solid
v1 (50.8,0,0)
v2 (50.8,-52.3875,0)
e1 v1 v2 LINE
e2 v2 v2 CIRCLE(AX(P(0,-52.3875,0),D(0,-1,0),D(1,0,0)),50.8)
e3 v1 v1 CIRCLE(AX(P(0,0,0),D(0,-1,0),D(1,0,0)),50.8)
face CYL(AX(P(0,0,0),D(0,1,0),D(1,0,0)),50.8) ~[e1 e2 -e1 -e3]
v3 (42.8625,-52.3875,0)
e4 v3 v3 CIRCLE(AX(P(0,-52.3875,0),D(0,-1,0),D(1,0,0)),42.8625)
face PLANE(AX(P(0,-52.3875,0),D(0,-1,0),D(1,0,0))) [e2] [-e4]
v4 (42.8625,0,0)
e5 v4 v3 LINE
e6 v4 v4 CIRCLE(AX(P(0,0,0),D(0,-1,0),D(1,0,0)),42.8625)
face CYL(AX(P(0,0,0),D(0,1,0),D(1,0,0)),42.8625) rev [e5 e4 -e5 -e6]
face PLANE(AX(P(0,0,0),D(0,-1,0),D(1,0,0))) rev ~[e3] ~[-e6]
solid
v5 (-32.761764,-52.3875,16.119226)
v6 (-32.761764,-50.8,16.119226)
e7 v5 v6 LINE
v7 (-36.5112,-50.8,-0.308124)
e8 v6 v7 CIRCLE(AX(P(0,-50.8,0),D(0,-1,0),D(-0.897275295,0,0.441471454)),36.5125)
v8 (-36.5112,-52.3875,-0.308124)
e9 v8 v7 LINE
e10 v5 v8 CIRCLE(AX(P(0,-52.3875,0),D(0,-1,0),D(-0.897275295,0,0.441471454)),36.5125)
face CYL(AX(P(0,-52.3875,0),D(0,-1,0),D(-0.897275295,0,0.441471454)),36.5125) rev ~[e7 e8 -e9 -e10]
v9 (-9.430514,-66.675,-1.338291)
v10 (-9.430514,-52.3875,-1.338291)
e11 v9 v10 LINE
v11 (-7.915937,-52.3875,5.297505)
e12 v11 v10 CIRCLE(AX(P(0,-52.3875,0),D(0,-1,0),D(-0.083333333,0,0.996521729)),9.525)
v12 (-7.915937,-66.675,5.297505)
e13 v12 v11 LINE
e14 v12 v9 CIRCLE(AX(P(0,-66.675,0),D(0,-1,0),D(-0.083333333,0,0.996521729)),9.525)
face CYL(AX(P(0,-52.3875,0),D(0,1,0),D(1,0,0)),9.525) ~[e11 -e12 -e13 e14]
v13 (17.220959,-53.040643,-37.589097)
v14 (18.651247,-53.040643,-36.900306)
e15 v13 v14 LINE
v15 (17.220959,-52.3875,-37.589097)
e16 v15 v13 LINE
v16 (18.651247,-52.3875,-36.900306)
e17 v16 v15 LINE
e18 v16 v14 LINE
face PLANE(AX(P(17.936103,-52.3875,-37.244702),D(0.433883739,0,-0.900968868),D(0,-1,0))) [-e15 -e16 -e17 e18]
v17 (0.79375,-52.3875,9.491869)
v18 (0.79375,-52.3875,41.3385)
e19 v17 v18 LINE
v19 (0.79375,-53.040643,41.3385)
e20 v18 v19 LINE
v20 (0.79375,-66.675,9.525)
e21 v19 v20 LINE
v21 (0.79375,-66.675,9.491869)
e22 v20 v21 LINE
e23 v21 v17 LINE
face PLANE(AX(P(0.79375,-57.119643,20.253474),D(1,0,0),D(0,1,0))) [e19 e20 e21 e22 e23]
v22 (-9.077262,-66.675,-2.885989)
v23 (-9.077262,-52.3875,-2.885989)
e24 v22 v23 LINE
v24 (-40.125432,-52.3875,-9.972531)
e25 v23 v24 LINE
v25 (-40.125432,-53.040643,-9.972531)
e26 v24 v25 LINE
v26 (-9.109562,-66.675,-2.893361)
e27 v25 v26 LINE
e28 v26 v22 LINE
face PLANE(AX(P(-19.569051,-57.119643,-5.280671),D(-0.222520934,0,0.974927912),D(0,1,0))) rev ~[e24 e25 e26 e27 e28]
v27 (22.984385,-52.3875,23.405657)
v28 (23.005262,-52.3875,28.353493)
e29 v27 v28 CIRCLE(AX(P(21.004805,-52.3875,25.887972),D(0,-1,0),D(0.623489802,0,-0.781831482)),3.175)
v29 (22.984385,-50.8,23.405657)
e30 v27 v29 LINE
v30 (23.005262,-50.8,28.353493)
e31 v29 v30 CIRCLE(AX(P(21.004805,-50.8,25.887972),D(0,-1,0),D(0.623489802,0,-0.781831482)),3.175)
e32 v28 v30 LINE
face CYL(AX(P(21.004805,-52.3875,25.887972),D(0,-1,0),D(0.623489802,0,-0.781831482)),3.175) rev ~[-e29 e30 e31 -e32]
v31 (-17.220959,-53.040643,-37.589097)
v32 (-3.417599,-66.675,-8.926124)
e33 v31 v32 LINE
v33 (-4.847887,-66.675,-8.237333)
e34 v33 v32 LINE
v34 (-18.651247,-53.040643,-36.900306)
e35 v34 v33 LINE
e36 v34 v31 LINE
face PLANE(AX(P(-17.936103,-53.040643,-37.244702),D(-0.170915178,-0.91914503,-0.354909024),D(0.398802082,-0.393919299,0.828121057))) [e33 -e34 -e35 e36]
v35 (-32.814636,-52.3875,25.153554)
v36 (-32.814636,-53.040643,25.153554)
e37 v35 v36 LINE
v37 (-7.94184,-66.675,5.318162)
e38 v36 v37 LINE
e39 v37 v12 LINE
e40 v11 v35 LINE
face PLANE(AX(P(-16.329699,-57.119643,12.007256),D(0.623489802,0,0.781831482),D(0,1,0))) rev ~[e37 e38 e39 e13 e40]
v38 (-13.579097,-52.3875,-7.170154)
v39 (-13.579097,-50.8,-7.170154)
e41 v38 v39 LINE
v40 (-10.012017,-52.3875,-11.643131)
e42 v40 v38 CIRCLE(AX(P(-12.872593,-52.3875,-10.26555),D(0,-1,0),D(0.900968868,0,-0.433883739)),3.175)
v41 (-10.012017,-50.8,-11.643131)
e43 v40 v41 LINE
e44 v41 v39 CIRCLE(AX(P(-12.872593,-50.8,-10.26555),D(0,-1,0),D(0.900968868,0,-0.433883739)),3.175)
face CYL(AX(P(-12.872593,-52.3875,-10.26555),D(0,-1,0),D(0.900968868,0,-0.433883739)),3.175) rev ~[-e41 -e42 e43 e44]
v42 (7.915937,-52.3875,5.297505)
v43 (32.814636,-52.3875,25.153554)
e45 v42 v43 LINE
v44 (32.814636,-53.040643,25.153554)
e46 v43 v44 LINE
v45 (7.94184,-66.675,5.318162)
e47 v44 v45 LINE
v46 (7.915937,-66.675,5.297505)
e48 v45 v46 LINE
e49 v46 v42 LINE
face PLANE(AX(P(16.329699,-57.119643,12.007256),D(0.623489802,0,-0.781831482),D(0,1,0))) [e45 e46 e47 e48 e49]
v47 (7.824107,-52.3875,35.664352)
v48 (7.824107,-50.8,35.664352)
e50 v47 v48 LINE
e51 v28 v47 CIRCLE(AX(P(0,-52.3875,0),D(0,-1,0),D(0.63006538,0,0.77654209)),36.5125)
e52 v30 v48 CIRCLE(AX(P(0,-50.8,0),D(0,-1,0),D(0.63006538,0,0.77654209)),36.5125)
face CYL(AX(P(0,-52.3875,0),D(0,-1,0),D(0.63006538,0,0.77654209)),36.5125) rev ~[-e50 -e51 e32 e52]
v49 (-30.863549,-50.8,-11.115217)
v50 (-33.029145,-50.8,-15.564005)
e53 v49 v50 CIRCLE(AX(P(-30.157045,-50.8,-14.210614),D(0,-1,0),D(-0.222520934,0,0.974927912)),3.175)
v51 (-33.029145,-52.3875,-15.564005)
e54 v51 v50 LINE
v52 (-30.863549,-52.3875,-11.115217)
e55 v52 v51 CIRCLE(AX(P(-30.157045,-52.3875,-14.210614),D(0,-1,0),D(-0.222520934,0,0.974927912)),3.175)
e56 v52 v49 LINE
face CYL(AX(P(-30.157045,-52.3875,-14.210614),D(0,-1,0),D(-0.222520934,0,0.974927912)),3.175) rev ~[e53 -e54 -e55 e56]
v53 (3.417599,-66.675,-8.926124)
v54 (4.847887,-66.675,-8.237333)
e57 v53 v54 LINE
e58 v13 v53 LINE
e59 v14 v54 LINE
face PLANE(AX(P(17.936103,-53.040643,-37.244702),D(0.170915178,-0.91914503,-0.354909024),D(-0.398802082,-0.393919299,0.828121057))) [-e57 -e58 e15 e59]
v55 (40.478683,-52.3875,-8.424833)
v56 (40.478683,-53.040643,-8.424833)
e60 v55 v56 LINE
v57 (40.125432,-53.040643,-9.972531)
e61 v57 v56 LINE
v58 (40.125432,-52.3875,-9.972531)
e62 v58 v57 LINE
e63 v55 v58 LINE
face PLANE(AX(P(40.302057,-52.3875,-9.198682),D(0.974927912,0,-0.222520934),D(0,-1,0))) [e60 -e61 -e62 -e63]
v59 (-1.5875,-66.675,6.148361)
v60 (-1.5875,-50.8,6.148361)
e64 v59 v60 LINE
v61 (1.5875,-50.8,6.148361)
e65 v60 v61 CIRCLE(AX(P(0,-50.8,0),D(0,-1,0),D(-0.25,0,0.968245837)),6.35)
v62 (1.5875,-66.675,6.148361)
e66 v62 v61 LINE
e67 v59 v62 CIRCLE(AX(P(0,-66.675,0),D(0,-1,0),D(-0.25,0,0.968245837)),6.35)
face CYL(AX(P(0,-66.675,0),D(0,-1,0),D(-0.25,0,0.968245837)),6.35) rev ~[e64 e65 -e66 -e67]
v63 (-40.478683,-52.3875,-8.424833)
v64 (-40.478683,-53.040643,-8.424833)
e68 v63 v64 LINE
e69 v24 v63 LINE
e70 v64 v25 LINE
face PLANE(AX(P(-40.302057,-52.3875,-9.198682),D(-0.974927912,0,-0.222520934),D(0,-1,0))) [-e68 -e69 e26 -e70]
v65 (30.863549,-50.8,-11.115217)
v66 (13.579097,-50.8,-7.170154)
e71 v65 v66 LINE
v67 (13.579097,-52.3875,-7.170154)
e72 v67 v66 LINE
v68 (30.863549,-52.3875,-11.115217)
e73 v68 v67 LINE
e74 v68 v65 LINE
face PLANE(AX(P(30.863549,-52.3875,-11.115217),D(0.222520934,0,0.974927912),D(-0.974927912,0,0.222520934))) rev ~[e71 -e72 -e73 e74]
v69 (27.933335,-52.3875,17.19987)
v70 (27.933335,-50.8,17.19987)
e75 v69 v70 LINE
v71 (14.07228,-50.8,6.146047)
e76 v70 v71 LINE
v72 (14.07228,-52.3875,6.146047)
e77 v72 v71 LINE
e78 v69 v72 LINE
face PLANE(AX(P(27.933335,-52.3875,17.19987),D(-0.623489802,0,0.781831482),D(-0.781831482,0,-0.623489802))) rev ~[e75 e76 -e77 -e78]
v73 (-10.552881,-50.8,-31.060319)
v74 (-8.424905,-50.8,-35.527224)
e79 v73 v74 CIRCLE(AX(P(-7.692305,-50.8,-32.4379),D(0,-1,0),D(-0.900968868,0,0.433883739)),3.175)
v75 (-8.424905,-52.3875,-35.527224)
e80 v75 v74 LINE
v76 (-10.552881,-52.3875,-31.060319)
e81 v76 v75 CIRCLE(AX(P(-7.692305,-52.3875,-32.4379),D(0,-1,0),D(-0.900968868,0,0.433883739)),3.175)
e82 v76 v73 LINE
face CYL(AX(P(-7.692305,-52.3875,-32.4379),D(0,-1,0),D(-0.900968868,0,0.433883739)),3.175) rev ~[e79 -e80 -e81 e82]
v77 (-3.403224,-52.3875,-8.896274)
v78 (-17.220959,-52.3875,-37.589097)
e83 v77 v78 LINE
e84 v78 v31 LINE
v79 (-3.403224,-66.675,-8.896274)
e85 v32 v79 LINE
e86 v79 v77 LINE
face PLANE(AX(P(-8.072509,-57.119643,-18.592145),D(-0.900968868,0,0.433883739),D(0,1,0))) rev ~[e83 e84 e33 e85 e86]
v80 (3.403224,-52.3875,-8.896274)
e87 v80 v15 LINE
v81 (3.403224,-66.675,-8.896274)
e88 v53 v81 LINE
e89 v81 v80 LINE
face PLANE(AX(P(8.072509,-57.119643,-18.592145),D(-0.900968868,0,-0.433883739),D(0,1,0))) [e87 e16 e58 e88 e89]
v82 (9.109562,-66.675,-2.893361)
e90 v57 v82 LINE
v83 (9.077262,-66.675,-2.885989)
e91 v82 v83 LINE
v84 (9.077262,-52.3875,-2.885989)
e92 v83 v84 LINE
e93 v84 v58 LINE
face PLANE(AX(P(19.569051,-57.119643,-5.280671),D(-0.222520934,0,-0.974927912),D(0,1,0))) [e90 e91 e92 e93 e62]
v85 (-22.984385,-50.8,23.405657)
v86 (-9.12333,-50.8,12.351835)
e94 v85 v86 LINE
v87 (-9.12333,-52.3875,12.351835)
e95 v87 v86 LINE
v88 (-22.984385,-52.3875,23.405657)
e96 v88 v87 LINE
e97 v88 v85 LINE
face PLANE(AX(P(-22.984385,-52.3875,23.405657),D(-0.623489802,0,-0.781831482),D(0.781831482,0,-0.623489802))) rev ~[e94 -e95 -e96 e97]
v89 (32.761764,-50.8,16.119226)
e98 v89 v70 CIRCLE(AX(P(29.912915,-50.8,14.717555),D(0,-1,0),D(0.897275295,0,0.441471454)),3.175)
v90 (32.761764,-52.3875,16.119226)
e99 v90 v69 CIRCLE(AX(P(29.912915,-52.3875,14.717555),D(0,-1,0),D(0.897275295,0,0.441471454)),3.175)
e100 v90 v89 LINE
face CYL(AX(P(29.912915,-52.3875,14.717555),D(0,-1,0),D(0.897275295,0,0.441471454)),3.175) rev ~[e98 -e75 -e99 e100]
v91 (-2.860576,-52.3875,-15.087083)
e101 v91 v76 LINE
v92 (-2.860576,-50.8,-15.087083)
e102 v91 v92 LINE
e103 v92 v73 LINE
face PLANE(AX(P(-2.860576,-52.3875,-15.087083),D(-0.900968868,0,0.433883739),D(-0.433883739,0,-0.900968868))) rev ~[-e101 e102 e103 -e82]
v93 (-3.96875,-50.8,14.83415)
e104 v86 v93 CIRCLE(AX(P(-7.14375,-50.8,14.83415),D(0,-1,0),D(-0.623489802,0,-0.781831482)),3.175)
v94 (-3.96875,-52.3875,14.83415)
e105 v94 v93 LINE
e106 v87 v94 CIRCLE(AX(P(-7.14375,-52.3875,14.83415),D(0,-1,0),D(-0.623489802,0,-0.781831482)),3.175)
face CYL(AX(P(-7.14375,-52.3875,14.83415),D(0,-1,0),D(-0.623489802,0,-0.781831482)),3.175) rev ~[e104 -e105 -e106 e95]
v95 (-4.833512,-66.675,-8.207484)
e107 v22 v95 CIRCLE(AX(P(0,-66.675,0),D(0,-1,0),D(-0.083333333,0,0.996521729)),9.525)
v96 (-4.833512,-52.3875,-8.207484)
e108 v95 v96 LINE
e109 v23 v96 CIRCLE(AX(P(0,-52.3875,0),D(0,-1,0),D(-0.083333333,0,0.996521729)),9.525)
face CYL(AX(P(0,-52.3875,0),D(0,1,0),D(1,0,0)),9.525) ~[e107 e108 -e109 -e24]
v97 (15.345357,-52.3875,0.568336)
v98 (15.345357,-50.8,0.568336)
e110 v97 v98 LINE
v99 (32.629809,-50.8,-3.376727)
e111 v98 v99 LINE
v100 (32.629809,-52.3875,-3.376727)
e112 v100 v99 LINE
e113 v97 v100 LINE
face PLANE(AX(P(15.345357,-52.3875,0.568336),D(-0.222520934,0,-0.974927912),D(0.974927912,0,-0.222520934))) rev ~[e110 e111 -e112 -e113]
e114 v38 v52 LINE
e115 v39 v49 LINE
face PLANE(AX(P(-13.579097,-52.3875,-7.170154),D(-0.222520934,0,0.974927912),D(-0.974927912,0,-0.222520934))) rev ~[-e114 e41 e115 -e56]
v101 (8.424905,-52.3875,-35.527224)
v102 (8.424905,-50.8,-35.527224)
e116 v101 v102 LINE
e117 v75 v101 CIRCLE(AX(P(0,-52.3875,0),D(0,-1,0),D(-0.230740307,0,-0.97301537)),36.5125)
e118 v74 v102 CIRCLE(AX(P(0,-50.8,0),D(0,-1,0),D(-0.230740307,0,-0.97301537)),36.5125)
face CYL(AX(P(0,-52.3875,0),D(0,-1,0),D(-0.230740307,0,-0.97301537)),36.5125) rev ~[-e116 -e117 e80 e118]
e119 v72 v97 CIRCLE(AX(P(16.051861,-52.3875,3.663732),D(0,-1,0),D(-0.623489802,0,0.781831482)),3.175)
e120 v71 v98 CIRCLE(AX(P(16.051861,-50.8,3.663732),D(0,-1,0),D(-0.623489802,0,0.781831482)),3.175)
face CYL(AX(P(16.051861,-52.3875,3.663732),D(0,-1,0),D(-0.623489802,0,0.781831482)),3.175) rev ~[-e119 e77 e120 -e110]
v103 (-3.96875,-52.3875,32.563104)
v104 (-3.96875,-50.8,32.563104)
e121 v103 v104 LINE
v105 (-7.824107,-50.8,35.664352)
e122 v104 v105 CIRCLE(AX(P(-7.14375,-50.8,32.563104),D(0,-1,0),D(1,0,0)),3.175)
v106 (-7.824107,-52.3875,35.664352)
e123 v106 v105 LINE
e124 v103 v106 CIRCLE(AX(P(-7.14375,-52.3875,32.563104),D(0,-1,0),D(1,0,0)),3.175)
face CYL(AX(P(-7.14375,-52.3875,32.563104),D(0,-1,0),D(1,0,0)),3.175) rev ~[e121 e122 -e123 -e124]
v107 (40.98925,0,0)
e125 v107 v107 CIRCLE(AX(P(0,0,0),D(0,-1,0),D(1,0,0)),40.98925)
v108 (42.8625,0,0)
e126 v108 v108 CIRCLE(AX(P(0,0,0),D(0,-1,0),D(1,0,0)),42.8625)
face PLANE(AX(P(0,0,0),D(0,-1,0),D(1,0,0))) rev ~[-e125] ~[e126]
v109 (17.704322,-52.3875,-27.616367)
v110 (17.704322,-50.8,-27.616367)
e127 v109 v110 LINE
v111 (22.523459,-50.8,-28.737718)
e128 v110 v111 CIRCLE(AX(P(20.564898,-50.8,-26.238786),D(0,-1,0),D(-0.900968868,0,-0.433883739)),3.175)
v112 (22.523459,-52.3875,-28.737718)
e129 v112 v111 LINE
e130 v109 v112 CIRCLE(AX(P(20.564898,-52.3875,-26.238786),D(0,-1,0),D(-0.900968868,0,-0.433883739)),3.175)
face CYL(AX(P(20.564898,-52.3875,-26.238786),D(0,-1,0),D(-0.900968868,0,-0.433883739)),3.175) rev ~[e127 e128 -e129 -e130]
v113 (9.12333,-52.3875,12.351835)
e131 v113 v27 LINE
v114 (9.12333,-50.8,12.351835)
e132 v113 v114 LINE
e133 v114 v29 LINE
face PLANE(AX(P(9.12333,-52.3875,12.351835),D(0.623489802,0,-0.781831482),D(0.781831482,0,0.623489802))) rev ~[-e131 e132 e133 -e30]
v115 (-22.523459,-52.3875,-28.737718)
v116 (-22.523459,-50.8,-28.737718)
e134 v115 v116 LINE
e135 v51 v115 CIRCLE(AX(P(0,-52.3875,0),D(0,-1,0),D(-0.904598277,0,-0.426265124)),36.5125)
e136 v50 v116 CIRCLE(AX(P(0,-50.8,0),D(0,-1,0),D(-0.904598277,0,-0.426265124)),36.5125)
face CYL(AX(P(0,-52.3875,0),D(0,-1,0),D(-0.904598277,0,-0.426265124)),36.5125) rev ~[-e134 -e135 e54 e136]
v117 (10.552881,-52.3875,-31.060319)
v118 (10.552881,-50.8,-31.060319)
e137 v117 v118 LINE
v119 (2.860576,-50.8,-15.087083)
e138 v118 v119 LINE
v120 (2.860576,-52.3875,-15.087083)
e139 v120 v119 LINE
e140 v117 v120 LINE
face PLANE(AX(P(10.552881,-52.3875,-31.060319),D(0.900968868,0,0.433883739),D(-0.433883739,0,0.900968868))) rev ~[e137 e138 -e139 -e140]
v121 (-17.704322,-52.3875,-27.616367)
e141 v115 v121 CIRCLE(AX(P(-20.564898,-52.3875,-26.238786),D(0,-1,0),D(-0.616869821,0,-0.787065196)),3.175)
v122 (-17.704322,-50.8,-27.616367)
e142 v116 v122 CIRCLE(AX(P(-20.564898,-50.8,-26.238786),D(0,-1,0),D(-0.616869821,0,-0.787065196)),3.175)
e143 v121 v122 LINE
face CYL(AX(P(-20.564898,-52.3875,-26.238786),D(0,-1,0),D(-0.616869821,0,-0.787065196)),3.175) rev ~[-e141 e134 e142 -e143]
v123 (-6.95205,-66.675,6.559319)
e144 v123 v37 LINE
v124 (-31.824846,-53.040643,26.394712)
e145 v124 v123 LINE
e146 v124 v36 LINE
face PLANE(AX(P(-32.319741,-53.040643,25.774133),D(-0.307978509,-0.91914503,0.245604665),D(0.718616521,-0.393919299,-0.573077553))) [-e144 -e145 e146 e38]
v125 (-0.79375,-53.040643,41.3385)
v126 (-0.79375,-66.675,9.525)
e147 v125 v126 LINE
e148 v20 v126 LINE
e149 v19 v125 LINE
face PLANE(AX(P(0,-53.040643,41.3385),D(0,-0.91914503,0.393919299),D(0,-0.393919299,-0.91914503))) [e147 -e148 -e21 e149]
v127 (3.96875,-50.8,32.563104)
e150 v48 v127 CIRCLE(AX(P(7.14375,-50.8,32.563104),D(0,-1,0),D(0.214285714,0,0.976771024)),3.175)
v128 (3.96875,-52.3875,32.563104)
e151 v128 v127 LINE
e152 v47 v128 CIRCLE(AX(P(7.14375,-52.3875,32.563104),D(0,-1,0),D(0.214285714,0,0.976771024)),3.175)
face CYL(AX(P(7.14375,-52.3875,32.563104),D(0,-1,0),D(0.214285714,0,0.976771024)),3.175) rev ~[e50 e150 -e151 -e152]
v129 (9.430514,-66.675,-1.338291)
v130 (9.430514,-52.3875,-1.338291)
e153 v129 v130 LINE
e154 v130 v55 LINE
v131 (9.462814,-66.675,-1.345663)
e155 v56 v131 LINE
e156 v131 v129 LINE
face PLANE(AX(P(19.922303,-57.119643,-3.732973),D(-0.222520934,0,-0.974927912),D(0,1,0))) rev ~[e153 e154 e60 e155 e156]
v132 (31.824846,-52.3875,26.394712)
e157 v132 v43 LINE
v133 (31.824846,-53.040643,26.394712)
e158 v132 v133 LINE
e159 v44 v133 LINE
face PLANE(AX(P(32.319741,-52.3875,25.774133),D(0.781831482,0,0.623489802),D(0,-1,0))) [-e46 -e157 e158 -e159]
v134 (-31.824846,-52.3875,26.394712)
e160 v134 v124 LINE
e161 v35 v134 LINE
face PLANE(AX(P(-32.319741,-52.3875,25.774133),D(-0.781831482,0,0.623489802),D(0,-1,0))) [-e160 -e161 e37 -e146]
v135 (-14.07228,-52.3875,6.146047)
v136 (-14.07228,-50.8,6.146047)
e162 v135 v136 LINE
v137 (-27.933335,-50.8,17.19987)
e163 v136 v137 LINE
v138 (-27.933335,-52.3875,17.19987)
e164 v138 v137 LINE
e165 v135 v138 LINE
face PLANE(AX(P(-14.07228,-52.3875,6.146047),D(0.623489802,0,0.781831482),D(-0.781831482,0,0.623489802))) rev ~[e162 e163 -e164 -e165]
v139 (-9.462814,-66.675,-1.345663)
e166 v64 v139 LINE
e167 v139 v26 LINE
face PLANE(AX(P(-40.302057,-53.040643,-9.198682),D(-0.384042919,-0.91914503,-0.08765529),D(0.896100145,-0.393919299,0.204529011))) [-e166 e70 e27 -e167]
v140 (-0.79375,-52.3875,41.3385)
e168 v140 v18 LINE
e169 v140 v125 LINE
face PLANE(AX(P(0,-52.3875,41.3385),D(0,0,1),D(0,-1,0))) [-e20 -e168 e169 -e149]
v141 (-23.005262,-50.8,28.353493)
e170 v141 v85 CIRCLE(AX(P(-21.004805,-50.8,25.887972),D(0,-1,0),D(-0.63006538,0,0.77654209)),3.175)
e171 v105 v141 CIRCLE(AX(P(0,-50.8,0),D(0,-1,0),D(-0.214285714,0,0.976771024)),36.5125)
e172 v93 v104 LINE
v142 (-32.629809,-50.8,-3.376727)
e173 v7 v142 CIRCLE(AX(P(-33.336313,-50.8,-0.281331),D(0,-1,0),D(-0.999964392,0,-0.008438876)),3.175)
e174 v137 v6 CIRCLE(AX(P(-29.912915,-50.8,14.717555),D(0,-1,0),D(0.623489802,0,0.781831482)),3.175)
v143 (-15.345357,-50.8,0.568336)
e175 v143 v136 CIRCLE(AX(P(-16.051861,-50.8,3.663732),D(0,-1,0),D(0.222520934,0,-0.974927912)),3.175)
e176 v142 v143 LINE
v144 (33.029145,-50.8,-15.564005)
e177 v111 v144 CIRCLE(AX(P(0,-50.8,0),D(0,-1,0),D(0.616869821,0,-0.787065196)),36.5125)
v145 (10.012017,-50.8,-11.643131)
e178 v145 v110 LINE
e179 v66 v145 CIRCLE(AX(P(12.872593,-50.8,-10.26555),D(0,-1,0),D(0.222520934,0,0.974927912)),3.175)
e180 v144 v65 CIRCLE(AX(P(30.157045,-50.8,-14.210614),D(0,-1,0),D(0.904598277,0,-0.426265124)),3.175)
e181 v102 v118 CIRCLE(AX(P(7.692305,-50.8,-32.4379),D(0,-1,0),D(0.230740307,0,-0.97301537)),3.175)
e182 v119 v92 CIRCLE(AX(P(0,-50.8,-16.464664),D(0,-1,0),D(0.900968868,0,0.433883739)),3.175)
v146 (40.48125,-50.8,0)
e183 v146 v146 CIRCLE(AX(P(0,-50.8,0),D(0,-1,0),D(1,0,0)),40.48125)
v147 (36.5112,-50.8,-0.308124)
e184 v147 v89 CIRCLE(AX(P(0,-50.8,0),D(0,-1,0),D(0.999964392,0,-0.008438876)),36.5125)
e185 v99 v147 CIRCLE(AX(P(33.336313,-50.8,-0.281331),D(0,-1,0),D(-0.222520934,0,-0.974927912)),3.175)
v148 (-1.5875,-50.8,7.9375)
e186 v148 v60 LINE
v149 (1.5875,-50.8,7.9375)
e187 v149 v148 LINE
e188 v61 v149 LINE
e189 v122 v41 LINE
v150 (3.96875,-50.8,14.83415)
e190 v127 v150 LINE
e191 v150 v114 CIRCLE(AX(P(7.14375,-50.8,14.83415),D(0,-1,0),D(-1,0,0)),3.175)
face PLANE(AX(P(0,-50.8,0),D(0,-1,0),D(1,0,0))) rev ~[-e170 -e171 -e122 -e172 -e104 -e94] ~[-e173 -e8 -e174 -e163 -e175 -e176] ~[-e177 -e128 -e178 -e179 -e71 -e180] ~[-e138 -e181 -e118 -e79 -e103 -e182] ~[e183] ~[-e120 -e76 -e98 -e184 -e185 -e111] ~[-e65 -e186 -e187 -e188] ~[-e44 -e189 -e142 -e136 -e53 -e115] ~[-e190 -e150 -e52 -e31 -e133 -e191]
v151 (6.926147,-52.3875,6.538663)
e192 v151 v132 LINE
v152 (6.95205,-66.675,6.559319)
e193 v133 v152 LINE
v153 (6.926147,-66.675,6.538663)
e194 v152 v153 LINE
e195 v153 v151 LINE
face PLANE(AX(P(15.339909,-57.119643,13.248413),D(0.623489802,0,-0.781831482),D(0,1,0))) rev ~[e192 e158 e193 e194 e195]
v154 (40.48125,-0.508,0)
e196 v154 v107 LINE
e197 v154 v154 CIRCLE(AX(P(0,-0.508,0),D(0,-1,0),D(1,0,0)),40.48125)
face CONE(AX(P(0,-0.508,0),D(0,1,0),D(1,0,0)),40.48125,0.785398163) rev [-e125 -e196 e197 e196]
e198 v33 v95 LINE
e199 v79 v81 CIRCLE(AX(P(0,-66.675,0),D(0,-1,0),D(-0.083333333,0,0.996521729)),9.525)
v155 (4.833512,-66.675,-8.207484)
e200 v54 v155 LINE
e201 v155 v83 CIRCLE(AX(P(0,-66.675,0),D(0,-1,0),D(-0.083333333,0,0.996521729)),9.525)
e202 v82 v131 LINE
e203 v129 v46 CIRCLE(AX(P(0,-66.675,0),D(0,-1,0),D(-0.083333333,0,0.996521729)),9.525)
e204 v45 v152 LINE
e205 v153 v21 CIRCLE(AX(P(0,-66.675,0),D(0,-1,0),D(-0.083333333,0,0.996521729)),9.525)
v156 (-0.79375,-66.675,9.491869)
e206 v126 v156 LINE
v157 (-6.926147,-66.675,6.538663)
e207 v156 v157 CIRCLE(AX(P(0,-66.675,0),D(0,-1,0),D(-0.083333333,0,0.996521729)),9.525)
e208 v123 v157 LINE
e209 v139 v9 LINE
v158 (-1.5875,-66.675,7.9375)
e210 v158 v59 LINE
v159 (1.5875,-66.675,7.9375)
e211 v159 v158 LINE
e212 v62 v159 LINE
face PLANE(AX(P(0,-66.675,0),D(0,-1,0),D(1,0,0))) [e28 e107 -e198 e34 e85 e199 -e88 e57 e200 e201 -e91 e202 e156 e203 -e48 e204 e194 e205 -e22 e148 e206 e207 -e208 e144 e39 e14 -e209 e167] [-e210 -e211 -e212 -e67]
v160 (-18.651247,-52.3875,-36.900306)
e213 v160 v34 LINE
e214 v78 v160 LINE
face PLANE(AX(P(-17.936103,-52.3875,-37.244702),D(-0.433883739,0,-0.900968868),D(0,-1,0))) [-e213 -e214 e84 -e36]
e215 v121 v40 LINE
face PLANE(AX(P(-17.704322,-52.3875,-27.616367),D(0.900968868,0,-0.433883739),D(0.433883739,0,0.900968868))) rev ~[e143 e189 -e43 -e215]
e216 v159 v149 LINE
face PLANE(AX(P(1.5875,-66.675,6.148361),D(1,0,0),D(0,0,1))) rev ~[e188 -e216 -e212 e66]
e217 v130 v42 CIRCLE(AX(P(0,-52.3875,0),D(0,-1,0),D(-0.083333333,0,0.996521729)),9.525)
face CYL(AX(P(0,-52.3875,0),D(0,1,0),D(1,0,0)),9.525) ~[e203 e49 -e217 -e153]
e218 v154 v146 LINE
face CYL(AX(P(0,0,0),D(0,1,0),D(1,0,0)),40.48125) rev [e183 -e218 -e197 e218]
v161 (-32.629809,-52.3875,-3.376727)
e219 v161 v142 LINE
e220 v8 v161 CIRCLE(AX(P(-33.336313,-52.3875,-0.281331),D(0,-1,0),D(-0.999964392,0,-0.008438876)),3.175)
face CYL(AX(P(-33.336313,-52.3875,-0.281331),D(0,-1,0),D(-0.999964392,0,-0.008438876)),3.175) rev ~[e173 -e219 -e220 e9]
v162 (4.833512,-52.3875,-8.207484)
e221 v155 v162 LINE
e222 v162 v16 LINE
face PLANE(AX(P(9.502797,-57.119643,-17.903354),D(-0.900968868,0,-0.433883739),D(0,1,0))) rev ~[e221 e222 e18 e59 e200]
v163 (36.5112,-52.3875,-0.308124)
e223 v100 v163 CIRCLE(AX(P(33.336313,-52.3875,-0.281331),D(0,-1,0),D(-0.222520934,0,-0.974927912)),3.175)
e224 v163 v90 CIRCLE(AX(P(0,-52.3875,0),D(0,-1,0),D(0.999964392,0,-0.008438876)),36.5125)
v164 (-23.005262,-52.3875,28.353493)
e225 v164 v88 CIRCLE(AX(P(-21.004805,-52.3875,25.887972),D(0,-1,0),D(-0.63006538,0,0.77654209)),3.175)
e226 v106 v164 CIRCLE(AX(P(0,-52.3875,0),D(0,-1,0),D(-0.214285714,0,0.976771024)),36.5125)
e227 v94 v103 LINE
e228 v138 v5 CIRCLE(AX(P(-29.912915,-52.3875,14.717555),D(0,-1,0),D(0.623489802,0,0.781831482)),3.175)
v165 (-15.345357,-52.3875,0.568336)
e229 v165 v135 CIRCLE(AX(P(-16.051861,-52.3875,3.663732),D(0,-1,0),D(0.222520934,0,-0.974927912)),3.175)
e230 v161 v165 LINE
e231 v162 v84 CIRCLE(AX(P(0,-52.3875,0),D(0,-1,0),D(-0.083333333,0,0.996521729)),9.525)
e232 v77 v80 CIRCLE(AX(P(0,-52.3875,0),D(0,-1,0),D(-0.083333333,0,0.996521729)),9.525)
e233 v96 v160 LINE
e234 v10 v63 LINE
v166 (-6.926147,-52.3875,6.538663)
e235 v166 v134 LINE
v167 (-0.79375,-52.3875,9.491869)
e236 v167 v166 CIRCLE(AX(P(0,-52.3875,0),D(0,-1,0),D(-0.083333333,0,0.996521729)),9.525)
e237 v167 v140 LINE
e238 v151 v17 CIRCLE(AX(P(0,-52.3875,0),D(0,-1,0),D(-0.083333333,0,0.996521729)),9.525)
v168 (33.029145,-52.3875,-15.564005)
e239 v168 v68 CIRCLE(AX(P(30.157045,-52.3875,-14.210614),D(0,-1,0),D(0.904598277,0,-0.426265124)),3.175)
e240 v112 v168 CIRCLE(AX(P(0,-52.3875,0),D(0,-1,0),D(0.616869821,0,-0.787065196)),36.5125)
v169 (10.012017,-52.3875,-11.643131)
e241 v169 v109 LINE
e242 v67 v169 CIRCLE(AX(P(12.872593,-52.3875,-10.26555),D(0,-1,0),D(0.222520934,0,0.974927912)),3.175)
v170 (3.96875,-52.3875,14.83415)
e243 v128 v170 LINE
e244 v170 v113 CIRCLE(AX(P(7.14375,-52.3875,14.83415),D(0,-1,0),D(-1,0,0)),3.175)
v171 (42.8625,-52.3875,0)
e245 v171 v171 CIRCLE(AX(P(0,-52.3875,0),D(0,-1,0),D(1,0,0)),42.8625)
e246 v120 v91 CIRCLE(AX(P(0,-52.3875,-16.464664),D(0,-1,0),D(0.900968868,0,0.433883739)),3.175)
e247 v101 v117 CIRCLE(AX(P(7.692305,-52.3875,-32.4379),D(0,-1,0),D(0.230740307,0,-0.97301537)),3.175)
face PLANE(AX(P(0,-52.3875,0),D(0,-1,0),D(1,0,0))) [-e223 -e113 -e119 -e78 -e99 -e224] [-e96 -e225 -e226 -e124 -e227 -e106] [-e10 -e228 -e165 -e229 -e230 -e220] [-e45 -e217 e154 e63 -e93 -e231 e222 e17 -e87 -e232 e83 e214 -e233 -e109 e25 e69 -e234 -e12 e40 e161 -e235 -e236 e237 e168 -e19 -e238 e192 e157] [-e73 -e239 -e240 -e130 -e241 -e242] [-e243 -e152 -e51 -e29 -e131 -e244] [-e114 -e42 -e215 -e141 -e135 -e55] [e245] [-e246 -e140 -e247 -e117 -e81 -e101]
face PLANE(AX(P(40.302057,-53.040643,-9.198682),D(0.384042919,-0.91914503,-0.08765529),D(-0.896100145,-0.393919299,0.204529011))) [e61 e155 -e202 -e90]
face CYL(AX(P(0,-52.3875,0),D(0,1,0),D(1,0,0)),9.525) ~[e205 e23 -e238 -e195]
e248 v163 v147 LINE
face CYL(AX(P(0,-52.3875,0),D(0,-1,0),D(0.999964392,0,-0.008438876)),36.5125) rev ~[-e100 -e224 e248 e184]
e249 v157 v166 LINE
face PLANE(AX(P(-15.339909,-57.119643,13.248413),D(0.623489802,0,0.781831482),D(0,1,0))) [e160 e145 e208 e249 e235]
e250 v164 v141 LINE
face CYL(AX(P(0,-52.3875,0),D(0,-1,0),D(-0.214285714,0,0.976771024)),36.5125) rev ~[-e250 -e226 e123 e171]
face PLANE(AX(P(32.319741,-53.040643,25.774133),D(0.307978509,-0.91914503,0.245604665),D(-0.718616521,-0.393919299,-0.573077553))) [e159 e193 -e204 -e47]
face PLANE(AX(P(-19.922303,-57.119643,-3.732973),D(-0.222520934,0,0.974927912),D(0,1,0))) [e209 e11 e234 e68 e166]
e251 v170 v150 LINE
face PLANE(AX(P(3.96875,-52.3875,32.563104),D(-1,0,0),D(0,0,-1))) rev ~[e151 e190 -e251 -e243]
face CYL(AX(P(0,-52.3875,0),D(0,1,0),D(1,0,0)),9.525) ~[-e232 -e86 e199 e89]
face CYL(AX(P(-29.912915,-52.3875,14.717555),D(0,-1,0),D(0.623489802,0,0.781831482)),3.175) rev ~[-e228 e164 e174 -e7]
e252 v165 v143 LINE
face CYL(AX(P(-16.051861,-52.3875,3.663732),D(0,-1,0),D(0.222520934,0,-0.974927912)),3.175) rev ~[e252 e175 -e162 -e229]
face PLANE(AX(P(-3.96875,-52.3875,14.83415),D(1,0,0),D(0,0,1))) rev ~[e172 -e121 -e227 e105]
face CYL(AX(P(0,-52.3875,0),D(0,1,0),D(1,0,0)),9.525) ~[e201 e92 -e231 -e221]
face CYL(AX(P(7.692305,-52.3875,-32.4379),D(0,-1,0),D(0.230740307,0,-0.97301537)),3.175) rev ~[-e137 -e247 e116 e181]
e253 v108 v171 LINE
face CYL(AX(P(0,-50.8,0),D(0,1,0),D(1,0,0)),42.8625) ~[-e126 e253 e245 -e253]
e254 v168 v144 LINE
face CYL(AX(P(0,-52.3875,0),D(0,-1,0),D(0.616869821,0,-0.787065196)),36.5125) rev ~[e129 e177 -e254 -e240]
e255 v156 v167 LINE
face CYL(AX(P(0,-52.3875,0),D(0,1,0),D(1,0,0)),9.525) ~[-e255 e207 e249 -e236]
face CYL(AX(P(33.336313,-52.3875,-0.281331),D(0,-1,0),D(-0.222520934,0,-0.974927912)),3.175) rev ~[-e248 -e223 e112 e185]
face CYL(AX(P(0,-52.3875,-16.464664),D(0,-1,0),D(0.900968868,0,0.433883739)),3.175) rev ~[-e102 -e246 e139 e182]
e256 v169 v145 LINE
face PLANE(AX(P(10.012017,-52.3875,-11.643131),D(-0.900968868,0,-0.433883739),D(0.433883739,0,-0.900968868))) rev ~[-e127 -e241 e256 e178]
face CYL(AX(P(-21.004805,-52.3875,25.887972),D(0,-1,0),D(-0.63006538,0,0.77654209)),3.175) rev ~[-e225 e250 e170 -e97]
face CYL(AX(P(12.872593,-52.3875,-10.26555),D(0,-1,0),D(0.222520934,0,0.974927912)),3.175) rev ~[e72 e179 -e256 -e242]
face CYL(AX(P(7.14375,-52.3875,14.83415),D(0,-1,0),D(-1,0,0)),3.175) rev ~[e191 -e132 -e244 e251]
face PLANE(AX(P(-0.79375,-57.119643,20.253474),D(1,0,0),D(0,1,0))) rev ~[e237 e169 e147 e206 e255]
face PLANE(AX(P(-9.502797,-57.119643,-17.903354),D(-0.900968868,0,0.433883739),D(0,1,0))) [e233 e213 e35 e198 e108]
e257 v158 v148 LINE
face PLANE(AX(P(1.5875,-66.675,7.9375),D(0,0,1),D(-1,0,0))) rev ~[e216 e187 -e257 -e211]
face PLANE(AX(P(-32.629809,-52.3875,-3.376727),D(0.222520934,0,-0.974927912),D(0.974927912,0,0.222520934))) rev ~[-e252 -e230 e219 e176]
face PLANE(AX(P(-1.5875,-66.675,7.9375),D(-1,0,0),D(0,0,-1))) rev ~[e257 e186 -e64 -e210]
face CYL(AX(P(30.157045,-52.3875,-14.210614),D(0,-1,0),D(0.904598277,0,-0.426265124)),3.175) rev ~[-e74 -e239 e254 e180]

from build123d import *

# Parameters (mm, degrees)
F0_R      = 42.8625
F0_R_2    = 40.48125
F1_DEPTH  = 50.8
F2_R      = 42.8625
F3_DEPTH  = 1.5875
F4_R      = 9.525
F5_DEPTH  = 14.2875
F7_DEPTH  = 0.79375
F8_COUNT  = 7
F10_DEPTH = 66.676
F11_R     = 50.8
F11_R_2   = 42.8625
F12_DEPTH = 52.3875
F14_DEPTH = 1.5875
F15_SIZE  = 0.508


with BuildPart() as f1:
    # F0 (on Front) → F1 (new body)
    with BuildSketch(Plane.XZ):
        Circle(F0_R)
        Circle(F0_R_2, mode=Mode.SUBTRACT)
    extrude(amount=F1_DEPTH)

    # F2 (on face) → F3 (join)
    with BuildSketch(Plane.XZ.offset(50.8)):
        Circle(F2_R)
    extrude(amount=F3_DEPTH)

    # F4 (on face) → F5 (join)
    with BuildSketch(Plane.XZ.offset(52.3875)):
        Circle(F4_R)
    extrude(amount=F5_DEPTH)



with BuildPart() as f7:
    # F6 (on Right) → F7 (new body, symmetric)
    with BuildSketch(Plane.YZ):
        Polygon((-66.675, 4.5089146682), (-52.3875, 4.5089146682), (-52.3875, 41.3385), (-53.0406428571, 41.3385), (-66.675, 9.525), align=None)
    extrude(amount=F7_DEPTH, both=True)


with BuildPart() as f1_1:
    add(f1.part)

    add(f7.part)  # F8 merges F7
    # F8: F7 ×7 about axis
    f8_axis = Axis((0, -40.6418209895, 0), (0, 1, 0))
    for i in range(1, F8_COUNT):
        add(f7.part.rotate(f8_axis, i * 360 / F8_COUNT))

    # F9 (on face) → F10 (cut, through all)
    with BuildSketch(Plane.XZ.offset(66.675)):
        with BuildLine():
            Line((-1.5875, 7.9375), (-1.5875, 6.1483610621))
            ThreePointArc((-1.5875, 6.1483610621), (0, -6.35), (1.5875, 6.1483610621))
            Line((1.5875, 6.1483610621), (1.5875, 7.9375))
            Line((1.5875, 7.9375), (-1.5875, 7.9375))
        make_face()
    extrude(amount=-F10_DEPTH, mode=Mode.SUBTRACT)

    # F13 (on face) → F14 (cut, through all)
    with BuildSketch(Plane.XZ.offset(52.3875)):
        with BuildLine():
            Line((10.5528811268, -31.0603190369), (2.8605761556, -15.0870831752))
            ThreePointArc((2.8605761556, -15.0870831752), (0, -13.2896640469), (-2.8605761556, -15.0870831752))
            Line((-2.8605761556, -15.0870831752), (-10.5528811268, -31.0603190369))
            ThreePointArc((-10.5528811268, -31.0603190369), (-10.558668331, -33.8033983853), (-8.4249054446, -35.5272237094))
            ThreePointArc((-8.4249054446, -35.5272237094), (0, -36.5125), (8.4249054446, -35.5272237094))
            ThreePointArc((8.4249054446, -35.5272237094), (10.558668331, -33.8033983853), (10.5528811268, -31.0603190369))
        make_face()
        with BuildLine():
            Line((30.8635490413, -11.1152174663), (13.5790966655, -7.1701540031))
            ThreePointArc((13.5790966655, -7.1701540031), (10.3902777433, -8.2859700034), (10.0120165446, -11.643130996))
            Line((10.0120165446, -11.643130996), (17.7043215158, -27.6163668577))
            ThreePointArc((17.7043215158, -27.6163668577), (19.8453390464, -29.3311734755), (22.5234593543, -28.7377179846))
            ThreePointArc((22.5234593543, -28.7377179846), (28.5466220036, -22.7651713904), (33.0291446071, -15.5640053577))
            ThreePointArc((33.0291446071, -15.5640053577), (33.0117830976, -12.8209748473), (30.8635490413, -11.1152174663))
        make_face()
        with BuildLine():
            Line((27.9333350261, 17.1998695655), (14.0722804232, 6.1460473778))
            ThreePointArc((14.0722804232, 6.1460473778), (12.9564644229, 2.9572284557), (15.3453565787, 0.5683362998))
            Line((15.3453565787, 0.5683362998), (32.6298089546, -3.3767271634))
            ThreePointArc((32.6298089546, -3.3767271634), (35.3054013507, -2.7719766917), (36.5111998647, -0.3081244748))
            ThreePointArc((36.5111998647, -0.3081244748), (35.5970553935, 8.1247956011), (32.7617642086, 16.1192264762))
            ThreePointArc((32.7617642086, 16.1192264762), (30.6063518741, 17.8159042509), (27.9333350261, 17.1998695655))
        make_face()
        with BuildLine():
            Line((3.96875, 32.5631040011), (3.96875, 14.8341497268))
            ThreePointArc((3.96875, 14.8341497268), (5.7661691283, 11.9735735712), (9.1233301209, 12.3518347699))
            Line((9.1233301209, 12.3518347699), (22.9843847238, 23.4056569576))
            ThreePointArc((22.9843847238, 23.4056569576), (24.179776339, 25.8745750789), (23.0052621842, 28.3534930492))
            ThreePointArc((23.0052621842, 28.3534930492), (15.8421800245, 32.8966257893), (7.8241071429, 35.6643520012))
            ThreePointArc((7.8241071429, 35.6643520012), (5.1537134336, 35.03704407), (3.96875, 32.5631040011))
        make_face()
        with BuildLine():
            Line((-22.9843847238, 23.4056569576), (-9.1233301209, 12.3518347699))
            ThreePointArc((-9.1233301209, 12.3518347699), (-5.7661691283, 11.9735735712), (-3.96875, 14.8341497268))
            Line((-3.96875, 14.8341497268), (-3.96875, 32.5631040011))
            ThreePointArc((-3.96875, 32.5631040011), (-5.1537134336, 35.03704407), (-7.8241071429, 35.6643520012))
            ThreePointArc((-7.8241071429, 35.6643520012), (-15.8421800245, 32.8966257893), (-23.0052621842, 28.3534930492))
            ThreePointArc((-23.0052621842, 28.3534930492), (-24.179776339, 25.8745750789), (-22.9843847238, 23.4056569576))
        make_face()
        with BuildLine():
            Line((-32.6298089546, -3.3767271634), (-15.3453565787, 0.5683362998))
            ThreePointArc((-15.3453565787, 0.5683362998), (-12.9564644229, 2.9572284557), (-14.0722804232, 6.1460473778))
            Line((-14.0722804232, 6.1460473778), (-27.9333350261, 17.1998695655))
            ThreePointArc((-27.9333350261, 17.1998695655), (-30.6063518741, 17.8159042509), (-32.7617642086, 16.1192264762))
            ThreePointArc((-32.7617642086, 16.1192264762), (-35.5970553935, 8.1247956011), (-36.5111998647, -0.3081244748))
            ThreePointArc((-36.5111998647, -0.3081244748), (-35.3054013507, -2.7719766917), (-32.6298089546, -3.3767271634))
        make_face()
        with BuildLine():
            Line((-17.7043215158, -27.6163668577), (-10.0120165446, -11.643130996))
            ThreePointArc((-10.0120165446, -11.643130996), (-10.3902777433, -8.2859700034), (-13.5790966655, -7.1701540031))
            Line((-13.5790966655, -7.1701540031), (-30.8635490413, -11.1152174663))
            ThreePointArc((-30.8635490413, -11.1152174663), (-33.0117830976, -12.8209748473), (-33.0291446071, -15.5640053577))
            ThreePointArc((-33.0291446071, -15.5640053577), (-28.5466220036, -22.7651713904), (-22.5234593543, -28.7377179846))
            ThreePointArc((-22.5234593543, -28.7377179846), (-19.8453390464, -29.3311734755), (-17.7043215158, -27.6163668577))
        make_face()
    extrude(amount=-F14_DEPTH, mode=Mode.SUBTRACT)

    # F15
    f15_edges = [f1_1.edges().sort_by_distance(p)[0] for p in [
        (-40.48125, 0, 0),
    ]]
    chamfer(f15_edges, length=F15_SIZE)


with BuildPart() as f12:
    # F11 (on Front) → F12 (new body, through all)
    with BuildSketch(Plane.XZ):
        Circle(F11_R)
        Circle(F11_R_2, mode=Mode.SUBTRACT)
    extrude(amount=F12_DEPTH)


solid = Compound([f1_1.part, f12.part])
